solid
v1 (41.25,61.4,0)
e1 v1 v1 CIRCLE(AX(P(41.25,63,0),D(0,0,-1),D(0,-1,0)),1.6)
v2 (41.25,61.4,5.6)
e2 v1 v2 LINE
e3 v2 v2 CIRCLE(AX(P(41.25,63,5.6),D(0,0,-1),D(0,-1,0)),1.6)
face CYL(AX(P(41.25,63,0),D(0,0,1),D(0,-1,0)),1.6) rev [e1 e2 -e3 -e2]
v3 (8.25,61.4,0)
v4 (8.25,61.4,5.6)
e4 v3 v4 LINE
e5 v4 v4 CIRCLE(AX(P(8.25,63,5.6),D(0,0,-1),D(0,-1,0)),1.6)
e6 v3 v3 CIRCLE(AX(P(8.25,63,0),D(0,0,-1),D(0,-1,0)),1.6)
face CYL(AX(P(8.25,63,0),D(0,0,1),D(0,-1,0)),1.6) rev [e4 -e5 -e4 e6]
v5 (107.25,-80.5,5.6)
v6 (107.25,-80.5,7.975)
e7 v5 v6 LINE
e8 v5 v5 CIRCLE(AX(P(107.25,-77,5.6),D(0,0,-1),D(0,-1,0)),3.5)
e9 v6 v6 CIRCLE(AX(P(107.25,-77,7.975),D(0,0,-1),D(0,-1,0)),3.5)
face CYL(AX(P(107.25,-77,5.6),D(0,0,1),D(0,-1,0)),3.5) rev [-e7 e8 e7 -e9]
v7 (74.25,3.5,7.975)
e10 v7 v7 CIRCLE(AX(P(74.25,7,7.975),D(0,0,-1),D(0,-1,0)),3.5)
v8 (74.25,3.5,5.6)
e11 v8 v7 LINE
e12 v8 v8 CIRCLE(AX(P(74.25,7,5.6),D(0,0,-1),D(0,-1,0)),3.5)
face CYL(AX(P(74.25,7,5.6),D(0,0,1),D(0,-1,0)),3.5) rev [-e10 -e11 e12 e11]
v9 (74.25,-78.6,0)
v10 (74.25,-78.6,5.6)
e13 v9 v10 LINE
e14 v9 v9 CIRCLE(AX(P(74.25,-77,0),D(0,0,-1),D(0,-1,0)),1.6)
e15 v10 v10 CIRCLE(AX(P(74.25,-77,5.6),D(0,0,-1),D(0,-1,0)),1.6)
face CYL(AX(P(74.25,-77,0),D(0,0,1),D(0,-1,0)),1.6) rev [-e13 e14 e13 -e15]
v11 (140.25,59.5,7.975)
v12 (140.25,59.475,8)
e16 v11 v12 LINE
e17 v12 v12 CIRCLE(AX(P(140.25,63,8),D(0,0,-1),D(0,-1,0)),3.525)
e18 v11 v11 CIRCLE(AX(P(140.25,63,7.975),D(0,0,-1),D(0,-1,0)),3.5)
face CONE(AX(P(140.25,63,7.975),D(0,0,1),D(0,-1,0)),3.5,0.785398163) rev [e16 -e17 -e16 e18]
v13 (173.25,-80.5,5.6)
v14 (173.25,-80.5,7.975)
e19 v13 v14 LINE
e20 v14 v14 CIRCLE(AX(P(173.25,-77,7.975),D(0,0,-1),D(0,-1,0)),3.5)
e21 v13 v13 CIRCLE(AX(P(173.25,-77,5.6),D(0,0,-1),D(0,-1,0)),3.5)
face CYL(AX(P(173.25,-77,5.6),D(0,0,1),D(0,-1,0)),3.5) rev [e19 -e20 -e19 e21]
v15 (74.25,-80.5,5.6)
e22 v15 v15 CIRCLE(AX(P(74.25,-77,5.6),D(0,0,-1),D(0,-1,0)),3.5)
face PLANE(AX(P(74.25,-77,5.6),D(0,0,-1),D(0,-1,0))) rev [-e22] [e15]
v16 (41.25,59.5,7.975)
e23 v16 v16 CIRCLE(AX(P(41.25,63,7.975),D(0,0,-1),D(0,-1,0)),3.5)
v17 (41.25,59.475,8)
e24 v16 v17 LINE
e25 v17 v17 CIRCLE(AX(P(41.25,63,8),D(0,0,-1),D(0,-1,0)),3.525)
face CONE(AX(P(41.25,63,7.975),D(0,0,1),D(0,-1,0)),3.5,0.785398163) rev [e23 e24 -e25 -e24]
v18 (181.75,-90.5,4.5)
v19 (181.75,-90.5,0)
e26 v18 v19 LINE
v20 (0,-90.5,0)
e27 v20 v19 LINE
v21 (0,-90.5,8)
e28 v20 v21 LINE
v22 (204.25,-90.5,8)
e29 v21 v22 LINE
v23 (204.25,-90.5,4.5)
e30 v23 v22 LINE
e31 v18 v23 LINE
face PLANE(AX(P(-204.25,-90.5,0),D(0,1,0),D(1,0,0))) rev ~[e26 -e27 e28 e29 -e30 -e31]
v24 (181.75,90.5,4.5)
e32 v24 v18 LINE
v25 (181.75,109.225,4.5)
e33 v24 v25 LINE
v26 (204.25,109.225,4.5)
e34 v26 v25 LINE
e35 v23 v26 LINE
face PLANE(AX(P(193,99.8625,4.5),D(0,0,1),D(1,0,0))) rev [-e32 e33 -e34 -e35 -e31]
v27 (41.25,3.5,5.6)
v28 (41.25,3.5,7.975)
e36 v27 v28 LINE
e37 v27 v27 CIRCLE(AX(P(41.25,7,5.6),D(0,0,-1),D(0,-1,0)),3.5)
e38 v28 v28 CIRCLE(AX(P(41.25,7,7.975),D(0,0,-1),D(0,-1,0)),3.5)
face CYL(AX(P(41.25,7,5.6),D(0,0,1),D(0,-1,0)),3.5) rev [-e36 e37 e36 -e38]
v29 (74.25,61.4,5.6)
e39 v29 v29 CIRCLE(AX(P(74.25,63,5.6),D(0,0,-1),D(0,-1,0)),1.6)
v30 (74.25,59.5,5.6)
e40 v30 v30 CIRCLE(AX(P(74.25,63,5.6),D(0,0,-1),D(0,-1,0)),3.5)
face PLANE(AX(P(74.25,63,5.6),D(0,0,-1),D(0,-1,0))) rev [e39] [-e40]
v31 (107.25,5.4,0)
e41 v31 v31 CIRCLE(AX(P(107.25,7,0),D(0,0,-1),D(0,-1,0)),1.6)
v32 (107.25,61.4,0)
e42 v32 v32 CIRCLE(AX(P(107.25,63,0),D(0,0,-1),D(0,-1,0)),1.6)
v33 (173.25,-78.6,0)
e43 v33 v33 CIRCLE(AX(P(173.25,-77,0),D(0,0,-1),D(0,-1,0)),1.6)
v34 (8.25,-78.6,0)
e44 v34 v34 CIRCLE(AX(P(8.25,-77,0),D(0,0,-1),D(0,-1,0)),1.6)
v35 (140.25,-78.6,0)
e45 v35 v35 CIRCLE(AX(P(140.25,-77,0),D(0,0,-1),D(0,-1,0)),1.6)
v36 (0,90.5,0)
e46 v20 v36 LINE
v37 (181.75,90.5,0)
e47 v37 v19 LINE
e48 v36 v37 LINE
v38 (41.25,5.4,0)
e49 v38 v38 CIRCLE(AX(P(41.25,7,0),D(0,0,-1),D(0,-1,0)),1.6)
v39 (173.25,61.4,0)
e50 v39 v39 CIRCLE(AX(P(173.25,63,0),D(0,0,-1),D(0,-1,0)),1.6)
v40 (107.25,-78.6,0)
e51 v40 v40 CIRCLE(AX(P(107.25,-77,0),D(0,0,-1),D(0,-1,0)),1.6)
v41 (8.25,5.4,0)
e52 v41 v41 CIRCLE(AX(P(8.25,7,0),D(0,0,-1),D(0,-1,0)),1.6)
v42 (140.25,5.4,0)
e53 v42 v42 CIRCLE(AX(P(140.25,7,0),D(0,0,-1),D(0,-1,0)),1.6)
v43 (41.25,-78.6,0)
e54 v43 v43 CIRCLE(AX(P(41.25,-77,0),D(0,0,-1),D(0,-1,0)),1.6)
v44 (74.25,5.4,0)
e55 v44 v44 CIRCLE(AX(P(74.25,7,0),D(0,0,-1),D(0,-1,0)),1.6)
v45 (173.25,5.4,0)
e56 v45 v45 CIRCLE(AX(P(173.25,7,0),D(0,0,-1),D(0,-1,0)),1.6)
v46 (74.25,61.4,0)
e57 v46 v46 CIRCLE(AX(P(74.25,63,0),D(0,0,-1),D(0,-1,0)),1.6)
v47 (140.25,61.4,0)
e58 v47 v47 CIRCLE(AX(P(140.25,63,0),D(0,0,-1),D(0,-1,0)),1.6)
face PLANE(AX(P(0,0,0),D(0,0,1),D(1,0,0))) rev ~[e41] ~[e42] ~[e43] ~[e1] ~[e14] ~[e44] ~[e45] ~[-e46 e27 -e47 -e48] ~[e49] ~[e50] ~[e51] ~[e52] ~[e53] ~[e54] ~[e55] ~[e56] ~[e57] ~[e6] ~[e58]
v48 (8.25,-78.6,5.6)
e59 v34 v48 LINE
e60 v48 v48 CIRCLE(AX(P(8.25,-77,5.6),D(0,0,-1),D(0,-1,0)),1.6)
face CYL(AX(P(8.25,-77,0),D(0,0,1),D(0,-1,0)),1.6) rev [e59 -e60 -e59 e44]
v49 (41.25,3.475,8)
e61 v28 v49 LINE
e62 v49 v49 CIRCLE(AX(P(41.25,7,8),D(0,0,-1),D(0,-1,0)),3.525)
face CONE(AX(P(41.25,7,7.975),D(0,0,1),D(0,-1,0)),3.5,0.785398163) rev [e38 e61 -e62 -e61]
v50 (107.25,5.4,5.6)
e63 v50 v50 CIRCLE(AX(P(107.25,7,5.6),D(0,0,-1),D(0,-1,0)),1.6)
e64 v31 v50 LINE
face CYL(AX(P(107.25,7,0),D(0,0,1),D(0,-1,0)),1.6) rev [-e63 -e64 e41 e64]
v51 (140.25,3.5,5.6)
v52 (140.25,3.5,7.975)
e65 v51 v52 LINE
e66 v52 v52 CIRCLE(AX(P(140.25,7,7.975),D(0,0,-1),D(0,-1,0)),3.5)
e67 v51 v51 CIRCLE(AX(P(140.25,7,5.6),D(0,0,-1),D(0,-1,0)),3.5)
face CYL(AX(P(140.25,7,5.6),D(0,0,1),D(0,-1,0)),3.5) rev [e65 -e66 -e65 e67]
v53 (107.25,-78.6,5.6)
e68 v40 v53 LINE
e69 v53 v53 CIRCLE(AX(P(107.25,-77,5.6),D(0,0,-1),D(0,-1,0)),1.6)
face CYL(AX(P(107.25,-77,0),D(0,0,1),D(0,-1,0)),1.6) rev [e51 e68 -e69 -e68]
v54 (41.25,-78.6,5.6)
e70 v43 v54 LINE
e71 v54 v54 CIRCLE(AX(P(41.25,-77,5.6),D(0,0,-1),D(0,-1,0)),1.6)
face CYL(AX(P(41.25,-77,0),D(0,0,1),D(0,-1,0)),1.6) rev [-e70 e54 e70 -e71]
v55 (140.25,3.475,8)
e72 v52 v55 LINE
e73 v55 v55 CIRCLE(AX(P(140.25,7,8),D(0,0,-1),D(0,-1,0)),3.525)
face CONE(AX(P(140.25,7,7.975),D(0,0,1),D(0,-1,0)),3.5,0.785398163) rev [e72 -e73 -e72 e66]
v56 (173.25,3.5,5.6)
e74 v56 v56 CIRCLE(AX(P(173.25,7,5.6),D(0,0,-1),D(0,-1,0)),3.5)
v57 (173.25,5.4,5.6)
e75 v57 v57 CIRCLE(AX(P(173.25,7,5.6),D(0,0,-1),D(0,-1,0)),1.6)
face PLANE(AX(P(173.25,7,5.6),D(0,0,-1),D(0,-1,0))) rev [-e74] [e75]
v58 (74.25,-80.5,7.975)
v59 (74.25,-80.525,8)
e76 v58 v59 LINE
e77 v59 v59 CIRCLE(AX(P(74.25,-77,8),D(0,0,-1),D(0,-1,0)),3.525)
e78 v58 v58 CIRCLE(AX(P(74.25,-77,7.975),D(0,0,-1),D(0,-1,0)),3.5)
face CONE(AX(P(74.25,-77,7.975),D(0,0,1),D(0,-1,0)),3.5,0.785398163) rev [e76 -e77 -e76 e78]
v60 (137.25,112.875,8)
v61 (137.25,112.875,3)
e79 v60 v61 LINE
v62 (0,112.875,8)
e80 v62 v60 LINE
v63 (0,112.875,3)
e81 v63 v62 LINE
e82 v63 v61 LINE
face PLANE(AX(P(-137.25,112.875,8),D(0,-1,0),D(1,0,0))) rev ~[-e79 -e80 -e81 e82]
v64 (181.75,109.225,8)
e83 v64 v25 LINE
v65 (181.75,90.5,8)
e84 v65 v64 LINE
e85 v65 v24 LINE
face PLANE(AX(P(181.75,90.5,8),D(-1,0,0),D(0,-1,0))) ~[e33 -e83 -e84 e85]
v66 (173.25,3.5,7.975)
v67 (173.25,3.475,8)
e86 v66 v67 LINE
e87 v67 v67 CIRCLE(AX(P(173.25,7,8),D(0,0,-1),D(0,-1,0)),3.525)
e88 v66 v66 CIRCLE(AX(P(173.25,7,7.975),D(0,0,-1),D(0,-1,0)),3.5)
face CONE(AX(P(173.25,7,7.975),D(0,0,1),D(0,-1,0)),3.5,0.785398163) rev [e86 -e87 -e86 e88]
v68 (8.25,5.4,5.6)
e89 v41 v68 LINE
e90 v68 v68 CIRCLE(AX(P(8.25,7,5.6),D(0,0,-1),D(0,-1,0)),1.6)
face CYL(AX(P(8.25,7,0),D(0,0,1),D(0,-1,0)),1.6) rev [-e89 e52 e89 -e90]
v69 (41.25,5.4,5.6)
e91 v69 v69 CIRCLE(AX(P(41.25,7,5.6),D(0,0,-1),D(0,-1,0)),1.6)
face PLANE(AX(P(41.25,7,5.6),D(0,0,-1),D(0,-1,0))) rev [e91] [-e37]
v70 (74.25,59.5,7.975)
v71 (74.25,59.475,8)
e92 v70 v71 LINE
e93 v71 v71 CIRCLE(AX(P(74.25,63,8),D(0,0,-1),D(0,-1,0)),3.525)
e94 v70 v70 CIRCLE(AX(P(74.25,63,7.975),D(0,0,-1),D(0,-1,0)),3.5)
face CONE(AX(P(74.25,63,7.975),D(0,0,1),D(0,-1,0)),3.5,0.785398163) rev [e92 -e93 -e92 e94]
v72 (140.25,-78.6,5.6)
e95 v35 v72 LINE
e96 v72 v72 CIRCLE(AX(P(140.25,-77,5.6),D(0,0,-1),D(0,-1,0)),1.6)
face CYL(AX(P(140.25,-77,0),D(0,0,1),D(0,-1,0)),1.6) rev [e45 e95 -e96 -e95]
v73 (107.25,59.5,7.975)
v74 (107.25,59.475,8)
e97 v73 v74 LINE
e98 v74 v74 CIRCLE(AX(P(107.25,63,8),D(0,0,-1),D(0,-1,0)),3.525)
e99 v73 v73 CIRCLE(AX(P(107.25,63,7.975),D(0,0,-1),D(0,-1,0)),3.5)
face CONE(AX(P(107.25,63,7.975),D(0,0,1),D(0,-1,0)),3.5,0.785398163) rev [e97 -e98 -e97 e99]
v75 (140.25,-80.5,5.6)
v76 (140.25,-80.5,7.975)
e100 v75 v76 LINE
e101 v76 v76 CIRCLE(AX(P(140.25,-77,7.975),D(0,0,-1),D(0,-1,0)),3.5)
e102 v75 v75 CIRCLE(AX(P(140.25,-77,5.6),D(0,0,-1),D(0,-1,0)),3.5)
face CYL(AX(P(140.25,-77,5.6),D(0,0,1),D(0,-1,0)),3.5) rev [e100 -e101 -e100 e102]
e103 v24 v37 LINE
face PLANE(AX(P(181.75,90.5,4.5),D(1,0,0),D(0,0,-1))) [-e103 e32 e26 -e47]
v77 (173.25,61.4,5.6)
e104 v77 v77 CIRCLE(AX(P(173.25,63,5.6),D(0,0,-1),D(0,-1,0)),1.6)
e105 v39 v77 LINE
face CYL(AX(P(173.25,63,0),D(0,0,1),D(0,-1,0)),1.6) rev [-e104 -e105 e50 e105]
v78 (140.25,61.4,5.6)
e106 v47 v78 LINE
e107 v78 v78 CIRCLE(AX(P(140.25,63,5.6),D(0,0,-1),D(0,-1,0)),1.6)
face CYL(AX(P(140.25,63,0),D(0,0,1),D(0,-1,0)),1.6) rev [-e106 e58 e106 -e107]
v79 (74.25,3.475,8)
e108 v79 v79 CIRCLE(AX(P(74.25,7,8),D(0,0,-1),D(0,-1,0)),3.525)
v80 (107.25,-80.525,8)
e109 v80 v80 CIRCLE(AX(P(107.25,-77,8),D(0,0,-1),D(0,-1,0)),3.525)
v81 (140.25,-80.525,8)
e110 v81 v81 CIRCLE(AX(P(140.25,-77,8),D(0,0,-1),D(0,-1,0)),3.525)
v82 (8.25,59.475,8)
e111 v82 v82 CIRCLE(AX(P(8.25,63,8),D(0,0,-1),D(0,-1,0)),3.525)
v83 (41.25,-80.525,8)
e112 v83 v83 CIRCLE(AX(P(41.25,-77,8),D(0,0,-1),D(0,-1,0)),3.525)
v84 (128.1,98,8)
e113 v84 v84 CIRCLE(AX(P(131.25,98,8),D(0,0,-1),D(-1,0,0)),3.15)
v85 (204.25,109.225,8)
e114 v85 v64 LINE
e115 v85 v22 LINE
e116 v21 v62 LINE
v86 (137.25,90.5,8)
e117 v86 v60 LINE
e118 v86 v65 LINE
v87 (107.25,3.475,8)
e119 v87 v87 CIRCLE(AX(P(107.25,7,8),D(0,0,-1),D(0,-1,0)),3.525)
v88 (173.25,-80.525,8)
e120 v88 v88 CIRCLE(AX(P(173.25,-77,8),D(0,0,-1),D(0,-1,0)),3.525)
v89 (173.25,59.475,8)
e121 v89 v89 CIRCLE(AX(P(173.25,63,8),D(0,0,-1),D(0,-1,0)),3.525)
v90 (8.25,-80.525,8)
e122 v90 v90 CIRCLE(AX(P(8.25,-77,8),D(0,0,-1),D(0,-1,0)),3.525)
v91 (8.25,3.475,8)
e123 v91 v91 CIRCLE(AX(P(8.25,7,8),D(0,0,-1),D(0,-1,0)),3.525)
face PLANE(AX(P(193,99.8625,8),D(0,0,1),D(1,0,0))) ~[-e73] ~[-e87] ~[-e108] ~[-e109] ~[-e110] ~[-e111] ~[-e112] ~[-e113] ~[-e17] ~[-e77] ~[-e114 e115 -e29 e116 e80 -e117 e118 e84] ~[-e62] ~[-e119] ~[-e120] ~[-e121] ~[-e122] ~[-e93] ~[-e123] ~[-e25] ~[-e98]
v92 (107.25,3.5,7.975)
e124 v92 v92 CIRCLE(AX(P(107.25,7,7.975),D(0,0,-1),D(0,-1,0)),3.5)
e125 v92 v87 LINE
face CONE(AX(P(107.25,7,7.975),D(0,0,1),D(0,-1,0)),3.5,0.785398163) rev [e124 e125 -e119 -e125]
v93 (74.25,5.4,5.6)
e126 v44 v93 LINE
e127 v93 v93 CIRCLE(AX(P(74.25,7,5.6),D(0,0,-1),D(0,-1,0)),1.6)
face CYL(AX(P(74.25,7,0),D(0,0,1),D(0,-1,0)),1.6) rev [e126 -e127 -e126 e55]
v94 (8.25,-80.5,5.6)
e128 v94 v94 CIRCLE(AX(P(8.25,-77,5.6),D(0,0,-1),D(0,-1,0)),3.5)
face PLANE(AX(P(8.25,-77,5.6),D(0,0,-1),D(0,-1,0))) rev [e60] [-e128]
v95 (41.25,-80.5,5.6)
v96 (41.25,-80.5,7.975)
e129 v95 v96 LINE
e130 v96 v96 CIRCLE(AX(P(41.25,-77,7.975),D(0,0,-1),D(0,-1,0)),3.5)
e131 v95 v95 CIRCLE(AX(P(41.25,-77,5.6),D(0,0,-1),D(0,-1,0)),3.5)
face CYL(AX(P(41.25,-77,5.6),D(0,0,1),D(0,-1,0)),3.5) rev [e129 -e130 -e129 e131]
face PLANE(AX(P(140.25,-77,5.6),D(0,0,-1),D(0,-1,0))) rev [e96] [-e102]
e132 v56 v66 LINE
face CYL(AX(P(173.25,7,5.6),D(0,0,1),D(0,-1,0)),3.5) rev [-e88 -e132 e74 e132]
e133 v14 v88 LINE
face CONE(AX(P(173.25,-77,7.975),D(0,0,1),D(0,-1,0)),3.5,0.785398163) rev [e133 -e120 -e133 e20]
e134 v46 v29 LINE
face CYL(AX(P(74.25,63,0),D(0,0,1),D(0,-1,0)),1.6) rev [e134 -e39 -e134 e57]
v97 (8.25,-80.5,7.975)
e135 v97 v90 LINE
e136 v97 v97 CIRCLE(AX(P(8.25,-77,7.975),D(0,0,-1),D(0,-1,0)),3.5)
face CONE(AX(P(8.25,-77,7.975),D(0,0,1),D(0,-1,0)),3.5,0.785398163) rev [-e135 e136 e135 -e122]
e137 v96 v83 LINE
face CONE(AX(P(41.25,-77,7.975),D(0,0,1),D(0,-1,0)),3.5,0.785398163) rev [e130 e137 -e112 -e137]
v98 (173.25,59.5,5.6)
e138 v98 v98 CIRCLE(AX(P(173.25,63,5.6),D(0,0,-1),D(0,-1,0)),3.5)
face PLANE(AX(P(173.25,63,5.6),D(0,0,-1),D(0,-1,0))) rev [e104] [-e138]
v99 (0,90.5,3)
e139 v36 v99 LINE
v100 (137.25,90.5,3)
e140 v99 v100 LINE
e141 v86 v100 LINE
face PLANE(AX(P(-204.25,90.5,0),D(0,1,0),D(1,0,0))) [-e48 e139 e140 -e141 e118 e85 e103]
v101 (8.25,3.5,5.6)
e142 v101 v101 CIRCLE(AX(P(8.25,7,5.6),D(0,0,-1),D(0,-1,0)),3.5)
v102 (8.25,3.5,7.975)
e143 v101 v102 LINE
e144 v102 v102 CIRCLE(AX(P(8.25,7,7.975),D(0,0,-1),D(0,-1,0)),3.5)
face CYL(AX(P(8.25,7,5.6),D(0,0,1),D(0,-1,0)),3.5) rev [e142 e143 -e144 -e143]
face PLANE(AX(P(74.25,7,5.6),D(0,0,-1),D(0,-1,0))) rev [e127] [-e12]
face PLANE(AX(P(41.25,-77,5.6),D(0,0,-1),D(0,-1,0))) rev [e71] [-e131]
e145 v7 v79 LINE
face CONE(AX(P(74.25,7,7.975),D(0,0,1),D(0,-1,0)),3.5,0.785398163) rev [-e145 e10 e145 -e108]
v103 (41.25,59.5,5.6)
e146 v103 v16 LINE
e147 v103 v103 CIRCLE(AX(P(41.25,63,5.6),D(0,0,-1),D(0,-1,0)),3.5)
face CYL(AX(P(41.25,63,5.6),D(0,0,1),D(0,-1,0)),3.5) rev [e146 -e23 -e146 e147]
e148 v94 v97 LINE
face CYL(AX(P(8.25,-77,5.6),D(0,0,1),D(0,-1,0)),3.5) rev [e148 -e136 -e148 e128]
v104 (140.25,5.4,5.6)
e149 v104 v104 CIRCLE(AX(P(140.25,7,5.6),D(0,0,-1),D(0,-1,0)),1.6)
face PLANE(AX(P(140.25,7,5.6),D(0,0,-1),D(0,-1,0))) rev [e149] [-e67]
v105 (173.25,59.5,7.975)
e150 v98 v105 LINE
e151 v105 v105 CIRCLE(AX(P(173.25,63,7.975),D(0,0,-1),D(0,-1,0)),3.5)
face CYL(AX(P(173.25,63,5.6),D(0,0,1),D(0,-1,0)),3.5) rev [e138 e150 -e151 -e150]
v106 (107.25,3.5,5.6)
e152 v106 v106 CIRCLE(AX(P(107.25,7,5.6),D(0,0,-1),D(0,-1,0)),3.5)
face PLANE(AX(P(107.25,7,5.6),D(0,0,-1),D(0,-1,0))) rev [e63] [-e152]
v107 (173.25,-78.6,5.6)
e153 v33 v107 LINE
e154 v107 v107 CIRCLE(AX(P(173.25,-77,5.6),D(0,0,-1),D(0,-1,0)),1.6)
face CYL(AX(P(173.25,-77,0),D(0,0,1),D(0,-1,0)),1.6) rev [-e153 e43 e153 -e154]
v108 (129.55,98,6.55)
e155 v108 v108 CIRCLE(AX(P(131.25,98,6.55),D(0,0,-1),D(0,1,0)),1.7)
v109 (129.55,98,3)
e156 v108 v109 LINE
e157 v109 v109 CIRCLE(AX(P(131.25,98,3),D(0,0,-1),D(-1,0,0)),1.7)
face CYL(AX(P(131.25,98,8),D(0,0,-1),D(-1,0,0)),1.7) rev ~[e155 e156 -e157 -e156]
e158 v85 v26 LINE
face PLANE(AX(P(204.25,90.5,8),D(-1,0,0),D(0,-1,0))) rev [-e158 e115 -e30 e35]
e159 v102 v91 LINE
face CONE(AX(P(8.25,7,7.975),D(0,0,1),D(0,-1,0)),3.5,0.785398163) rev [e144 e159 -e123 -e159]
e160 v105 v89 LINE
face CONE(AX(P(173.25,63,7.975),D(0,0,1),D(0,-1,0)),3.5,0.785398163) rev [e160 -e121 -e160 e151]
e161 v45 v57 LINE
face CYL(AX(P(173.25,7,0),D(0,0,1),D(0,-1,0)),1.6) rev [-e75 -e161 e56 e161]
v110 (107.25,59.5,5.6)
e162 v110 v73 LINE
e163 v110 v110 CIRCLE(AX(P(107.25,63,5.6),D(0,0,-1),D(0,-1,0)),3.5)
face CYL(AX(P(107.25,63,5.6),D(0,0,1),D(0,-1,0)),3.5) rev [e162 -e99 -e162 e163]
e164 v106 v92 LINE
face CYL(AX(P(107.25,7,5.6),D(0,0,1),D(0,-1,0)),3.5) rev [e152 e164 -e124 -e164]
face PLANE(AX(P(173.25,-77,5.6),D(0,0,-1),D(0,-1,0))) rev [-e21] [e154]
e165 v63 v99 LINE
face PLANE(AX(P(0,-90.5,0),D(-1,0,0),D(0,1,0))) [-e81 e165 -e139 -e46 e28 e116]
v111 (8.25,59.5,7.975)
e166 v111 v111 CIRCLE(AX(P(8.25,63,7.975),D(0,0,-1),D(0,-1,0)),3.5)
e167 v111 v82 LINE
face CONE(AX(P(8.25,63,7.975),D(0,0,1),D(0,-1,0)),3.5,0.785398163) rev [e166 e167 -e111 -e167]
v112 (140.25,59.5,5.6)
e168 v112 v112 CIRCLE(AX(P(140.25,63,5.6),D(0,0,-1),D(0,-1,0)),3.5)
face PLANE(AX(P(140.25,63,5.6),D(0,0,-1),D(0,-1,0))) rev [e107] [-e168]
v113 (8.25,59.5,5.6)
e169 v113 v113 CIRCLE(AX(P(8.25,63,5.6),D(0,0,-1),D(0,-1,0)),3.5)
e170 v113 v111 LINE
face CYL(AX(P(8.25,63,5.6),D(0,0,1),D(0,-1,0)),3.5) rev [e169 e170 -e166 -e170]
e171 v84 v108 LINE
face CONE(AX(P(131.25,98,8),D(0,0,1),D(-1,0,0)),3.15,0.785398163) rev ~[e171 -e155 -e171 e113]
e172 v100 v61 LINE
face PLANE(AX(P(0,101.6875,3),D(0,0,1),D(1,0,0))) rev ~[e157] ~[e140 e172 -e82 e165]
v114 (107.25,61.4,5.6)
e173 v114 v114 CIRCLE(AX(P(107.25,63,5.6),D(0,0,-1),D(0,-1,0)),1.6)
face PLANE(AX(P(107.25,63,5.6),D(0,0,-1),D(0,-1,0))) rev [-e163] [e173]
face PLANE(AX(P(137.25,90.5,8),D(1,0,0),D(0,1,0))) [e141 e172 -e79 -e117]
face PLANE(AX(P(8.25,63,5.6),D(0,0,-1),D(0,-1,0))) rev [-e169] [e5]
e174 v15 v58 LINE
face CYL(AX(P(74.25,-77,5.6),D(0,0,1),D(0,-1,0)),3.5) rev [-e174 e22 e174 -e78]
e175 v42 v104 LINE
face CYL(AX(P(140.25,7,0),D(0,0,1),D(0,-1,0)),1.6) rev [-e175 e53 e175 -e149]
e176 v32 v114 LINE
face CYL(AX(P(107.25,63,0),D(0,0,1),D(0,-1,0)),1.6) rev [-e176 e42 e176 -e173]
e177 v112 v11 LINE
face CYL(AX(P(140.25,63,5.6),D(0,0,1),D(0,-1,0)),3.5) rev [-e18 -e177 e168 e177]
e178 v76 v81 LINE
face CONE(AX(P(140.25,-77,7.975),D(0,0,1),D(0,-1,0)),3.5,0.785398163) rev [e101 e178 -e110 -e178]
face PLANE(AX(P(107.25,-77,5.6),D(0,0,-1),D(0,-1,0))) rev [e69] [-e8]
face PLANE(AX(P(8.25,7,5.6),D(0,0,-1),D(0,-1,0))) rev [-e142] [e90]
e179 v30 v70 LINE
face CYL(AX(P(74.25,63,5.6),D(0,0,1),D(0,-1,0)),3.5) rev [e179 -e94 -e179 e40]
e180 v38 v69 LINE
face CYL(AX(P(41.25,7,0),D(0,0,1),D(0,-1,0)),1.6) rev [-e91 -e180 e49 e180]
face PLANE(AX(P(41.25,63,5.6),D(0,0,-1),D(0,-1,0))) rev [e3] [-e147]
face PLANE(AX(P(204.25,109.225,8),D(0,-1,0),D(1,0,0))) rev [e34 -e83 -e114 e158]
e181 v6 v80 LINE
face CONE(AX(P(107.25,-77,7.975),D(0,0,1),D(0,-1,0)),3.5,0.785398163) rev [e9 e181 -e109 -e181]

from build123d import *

# Parameters (mm, degrees)
ESQUISSE1_W                                    = 408.5
ESQUISSE1_H                                    = 181
BOSS_EXTRU_1_DEPTH                             = 8
CHAMBRAGE_POUR_VIS_T_TE_RONDE_BOMB_2_COUNT     = 2
CHAMBRAGE_POUR_VIS_T_TE_RONDE_BOMB_2_PITCH     = 56
CHAMBRAGE_POUR_VIS_T_TE_RONDE_BOMB_3_COUNT     = 2
CHAMBRAGE_POUR_VIS_T_TE_RONDE_BOMB_3_PITCH     = 140
R_P_TITION_LIN_AIRE1_COUNT                     = 11
R_P_TITION_LIN_AIRE1_PITCH                     = 33
ESQUISSE4_W                                    = 22.5
ESQUISSE4_H                                    = 4.5
ENL_V_MAT_EXTRU_1_DEPTH                        = 181
ESQUISSE5_W                                    = 22.5
ESQUISSE5_H                                    = 18.725
BOSS_EXTRU_2_DEPTH                             = 3.5
ESQUISSE7_W                                    = 274.5
ESQUISSE7_H                                    = 22.375
BOSS_EXTRU_3_DEPTH                             = 5
FRAISAGE_POUR_VIS_T_TE_FRAIS_E_M31_D           = 3.4
FRAISAGE_POUR_VIS_T_TE_FRAIS_E_M31_CSINK_D     = 6.3
FRAISAGE_POUR_VIS_T_TE_FRAIS_E_M31_CSINK_ANGLE = 90
ESQUISSE10_W                                   = 204.25
ESQUISSE10_H                                   = 203.375
ENL_V_MAT_EXTRU_2_DEPTH                        = 10


with BuildPart() as part:
    # Esquisse1 → Boss.-Extru.1 (new body)
    with BuildSketch(Plane.XY):
        Rectangle(ESQUISSE1_W, ESQUISSE1_H)
    extrude(amount=BOSS_EXTRU_1_DEPTH)

    # Esquisse3 → Chambrage pour vis à tête ronde bombée M31 (revolve, cut)
    with BuildSketch(Plane(origin=(-156.75, 63, 8), x_dir=(0, -1, 0), z_dir=(1, 0, 0))):
        Polygon((0, 0), (0, 8), (1.6, 8), (1.6, 2.4), (3.5, 2.4), (3.5, 0.025), (3.525, 0), align=None)
    chambrage_pour_vis_t_te_ronde_bomb_e_m = revolve(axis=Axis((-156.75, 63, 14.35), (0, 0, -1)), mode=Mode.SUBTRACT)

    # Chambrage pour vis _ t_te ronde bomb 2: Chambrage pour vis à tête ronde bombée M31 ×2
    with Locations(*[(0, -i * CHAMBRAGE_POUR_VIS_T_TE_RONDE_BOMB_2_PITCH, 0) for i in range(1, CHAMBRAGE_POUR_VIS_T_TE_RONDE_BOMB_2_COUNT)]):
        add(chambrage_pour_vis_t_te_ronde_bomb_e_m, mode=Mode.SUBTRACT)

    # Chambrage pour vis _ t_te ronde bomb 3: Chambrage pour vis à tête ronde bombée M31 ×2
    with Locations(*[(0, -i * CHAMBRAGE_POUR_VIS_T_TE_RONDE_BOMB_3_PITCH, 0) for i in range(1, CHAMBRAGE_POUR_VIS_T_TE_RONDE_BOMB_3_COUNT)]):
        add(chambrage_pour_vis_t_te_ronde_bomb_e_m, mode=Mode.SUBTRACT)

    # Répétition linéaire1: Chambrage pour vis à tête ronde bombée M31 ×11
    with Locations(*[(i * R_P_TITION_LIN_AIRE1_PITCH, 0, 0) for i in range(1, R_P_TITION_LIN_AIRE1_COUNT)]):
        add(chambrage_pour_vis_t_te_ronde_bomb_e_m, mode=Mode.SUBTRACT)

    # Répétition linéaire1 copy 1 sketch → Répétition linéaire1 copy 1 (revolve, cut)
    with BuildSketch(Plane(origin=(-123.75, 7, 8), x_dir=(0, -1, 0), z_dir=(1, 0, 0))):
        Polygon((0, 0), (0, 8), (1.6, 8), (1.6, 2.4), (3.5, 2.4), (3.5, 0.025), (3.525, 0), align=None)
    revolve(axis=Axis((-123.75, 7, 14.35), (0, 0, -1)), mode=Mode.SUBTRACT)

    # Répétition linéaire1 copy 2 sketch → Répétition linéaire1 copy 2 (revolve, cut)
    with BuildSketch(Plane(origin=(-90.75, 7, 8), x_dir=(0, -1, 0), z_dir=(1, 0, 0))):
        Polygon((0, 0), (0, 8), (1.6, 8), (1.6, 2.4), (3.5, 2.4), (3.5, 0.025), (3.525, 0), align=None)
    revolve(axis=Axis((-90.75, 7, 14.35), (0, 0, -1)), mode=Mode.SUBTRACT)

    # Répétition linéaire1 copy 3 sketch → Répétition linéaire1 copy 3 (revolve, cut)
    with BuildSketch(Plane(origin=(-57.75, 7, 8), x_dir=(0, -1, 0), z_dir=(1, 0, 0))):
        Polygon((0, 0), (0, 8), (1.6, 8), (1.6, 2.4), (3.5, 2.4), (3.5, 0.025), (3.525, 0), align=None)
    revolve(axis=Axis((-57.75, 7, 14.35), (0, 0, -1)), mode=Mode.SUBTRACT)

    # Répétition linéaire1 copy 4 sketch → Répétition linéaire1 copy 4 (revolve, cut)
    with BuildSketch(Plane(origin=(-24.75, 7, 8), x_dir=(0, -1, 0), z_dir=(1, 0, 0))):
        Polygon((0, 0), (0, 8), (1.6, 8), (1.6, 2.4), (3.5, 2.4), (3.5, 0.025), (3.525, 0), align=None)
    revolve(axis=Axis((-24.75, 7, 14.35), (0, 0, -1)), mode=Mode.SUBTRACT)

    # Répétition linéaire1 copy 5 sketch → Répétition linéaire1 copy 5 (revolve, cut)
    with BuildSketch(Plane(origin=(8.25, 7, 8), x_dir=(0, -1, 0), z_dir=(1, 0, 0))):
        Polygon((0, 0), (0, 8), (1.6, 8), (1.6, 2.4), (3.5, 2.4), (3.5, 0.025), (3.525, 0), align=None)
    revolve(axis=Axis((8.25, 7, 14.35), (0, 0, -1)), mode=Mode.SUBTRACT)

    # Répétition linéaire1 copy 6 sketch → Répétition linéaire1 copy 6 (revolve, cut)
    with BuildSketch(Plane(origin=(41.25, 7, 8), x_dir=(0, -1, 0), z_dir=(1, 0, 0))):
        Polygon((0, 0), (0, 8), (1.6, 8), (1.6, 2.4), (3.5, 2.4), (3.5, 0.025), (3.525, 0), align=None)
    revolve(axis=Axis((41.25, 7, 14.35), (0, 0, -1)), mode=Mode.SUBTRACT)

    # Répétition linéaire1 copy 7 sketch → Répétition linéaire1 copy 7 (revolve, cut)
    with BuildSketch(Plane(origin=(74.25, 7, 8), x_dir=(0, -1, 0), z_dir=(1, 0, 0))):
        Polygon((0, 0), (0, 8), (1.6, 8), (1.6, 2.4), (3.5, 2.4), (3.5, 0.025), (3.525, 0), align=None)
    revolve(axis=Axis((74.25, 7, 14.35), (0, 0, -1)), mode=Mode.SUBTRACT)

    # Répétition linéaire1 copy 8 sketch → Répétition linéaire1 copy 8 (revolve, cut)
    with BuildSketch(Plane(origin=(107.25, 7, 8), x_dir=(0, -1, 0), z_dir=(1, 0, 0))):
        Polygon((0, 0), (0, 8), (1.6, 8), (1.6, 2.4), (3.5, 2.4), (3.5, 0.025), (3.525, 0), align=None)
    revolve(axis=Axis((107.25, 7, 14.35), (0, 0, -1)), mode=Mode.SUBTRACT)

    # Répétition linéaire1 copy 9 sketch → Répétition linéaire1 copy 9 (revolve, cut)
    with BuildSketch(Plane(origin=(140.25, 7, 8), x_dir=(0, -1, 0), z_dir=(1, 0, 0))):
        Polygon((0, 0), (0, 8), (1.6, 8), (1.6, 2.4), (3.5, 2.4), (3.5, 0.025), (3.525, 0), align=None)
    revolve(axis=Axis((140.25, 7, 14.35), (0, 0, -1)), mode=Mode.SUBTRACT)

    # Répétition linéaire1 copy 10 sketch → Répétition linéaire1 copy 10 (revolve, cut)
    with BuildSketch(Plane(origin=(173.25, 7, 8), x_dir=(0, -1, 0), z_dir=(1, 0, 0))):
        Polygon((0, 0), (0, 8), (1.6, 8), (1.6, 2.4), (3.5, 2.4), (3.5, 0.025), (3.525, 0), align=None)
    revolve(axis=Axis((173.25, 7, 14.35), (0, 0, -1)), mode=Mode.SUBTRACT)

    # Répétition linéaire1 copy 11 sketch → Répétition linéaire1 copy 11 (revolve, cut)
    with BuildSketch(Plane(origin=(-123.75, -77, 8), x_dir=(0, -1, 0), z_dir=(1, 0, 0))):
        Polygon((0, 0), (0, 8), (1.6, 8), (1.6, 2.4), (3.5, 2.4), (3.5, 0.025), (3.525, 0), align=None)
    revolve(axis=Axis((-123.75, -77, 14.35), (0, 0, -1)), mode=Mode.SUBTRACT)

    # Répétition linéaire1 copy 12 sketch → Répétition linéaire1 copy 12 (revolve, cut)
    with BuildSketch(Plane(origin=(-90.75, -77, 8), x_dir=(0, -1, 0), z_dir=(1, 0, 0))):
        Polygon((0, 0), (0, 8), (1.6, 8), (1.6, 2.4), (3.5, 2.4), (3.5, 0.025), (3.525, 0), align=None)
    revolve(axis=Axis((-90.75, -77, 14.35), (0, 0, -1)), mode=Mode.SUBTRACT)

    # Répétition linéaire1 copy 13 sketch → Répétition linéaire1 copy 13 (revolve, cut)
    with BuildSketch(Plane(origin=(-57.75, -77, 8), x_dir=(0, -1, 0), z_dir=(1, 0, 0))):
        Polygon((0, 0), (0, 8), (1.6, 8), (1.6, 2.4), (3.5, 2.4), (3.5, 0.025), (3.525, 0), align=None)
    revolve(axis=Axis((-57.75, -77, 14.35), (0, 0, -1)), mode=Mode.SUBTRACT)

    # Répétition linéaire1 copy 14 sketch → Répétition linéaire1 copy 14 (revolve, cut)
    with BuildSketch(Plane(origin=(-24.75, -77, 8), x_dir=(0, -1, 0), z_dir=(1, 0, 0))):
        Polygon((0, 0), (0, 8), (1.6, 8), (1.6, 2.4), (3.5, 2.4), (3.5, 0.025), (3.525, 0), align=None)
    revolve(axis=Axis((-24.75, -77, 14.35), (0, 0, -1)), mode=Mode.SUBTRACT)

    # Répétition linéaire1 copy 15 sketch → Répétition linéaire1 copy 15 (revolve, cut)
    with BuildSketch(Plane(origin=(8.25, -77, 8), x_dir=(0, -1, 0), z_dir=(1, 0, 0))):
        Polygon((0, 0), (0, 8), (1.6, 8), (1.6, 2.4), (3.5, 2.4), (3.5, 0.025), (3.525, 0), align=None)
    revolve(axis=Axis((8.25, -77, 14.35), (0, 0, -1)), mode=Mode.SUBTRACT)

    # Répétition linéaire1 copy 16 sketch → Répétition linéaire1 copy 16 (revolve, cut)
    with BuildSketch(Plane(origin=(41.25, -77, 8), x_dir=(0, -1, 0), z_dir=(1, 0, 0))):
        Polygon((0, 0), (0, 8), (1.6, 8), (1.6, 2.4), (3.5, 2.4), (3.5, 0.025), (3.525, 0), align=None)
    revolve(axis=Axis((41.25, -77, 14.35), (0, 0, -1)), mode=Mode.SUBTRACT)

    # Répétition linéaire1 copy 17 sketch → Répétition linéaire1 copy 17 (revolve, cut)
    with BuildSketch(Plane(origin=(74.25, -77, 8), x_dir=(0, -1, 0), z_dir=(1, 0, 0))):
        Polygon((0, 0), (0, 8), (1.6, 8), (1.6, 2.4), (3.5, 2.4), (3.5, 0.025), (3.525, 0), align=None)
    revolve(axis=Axis((74.25, -77, 14.35), (0, 0, -1)), mode=Mode.SUBTRACT)

    # Répétition linéaire1 copy 18 sketch → Répétition linéaire1 copy 18 (revolve, cut)
    with BuildSketch(Plane(origin=(107.25, -77, 8), x_dir=(0, -1, 0), z_dir=(1, 0, 0))):
        Polygon((0, 0), (0, 8), (1.6, 8), (1.6, 2.4), (3.5, 2.4), (3.5, 0.025), (3.525, 0), align=None)
    revolve(axis=Axis((107.25, -77, 14.35), (0, 0, -1)), mode=Mode.SUBTRACT)

    # Répétition linéaire1 copy 19 sketch → Répétition linéaire1 copy 19 (revolve, cut)
    with BuildSketch(Plane(origin=(140.25, -77, 8), x_dir=(0, -1, 0), z_dir=(1, 0, 0))):
        Polygon((0, 0), (0, 8), (1.6, 8), (1.6, 2.4), (3.5, 2.4), (3.5, 0.025), (3.525, 0), align=None)
    revolve(axis=Axis((140.25, -77, 14.35), (0, 0, -1)), mode=Mode.SUBTRACT)

    # Répétition linéaire1 copy 20 sketch → Répétition linéaire1 copy 20 (revolve, cut)
    with BuildSketch(Plane(origin=(173.25, -77, 8), x_dir=(0, -1, 0), z_dir=(1, 0, 0))):
        Polygon((0, 0), (0, 8), (1.6, 8), (1.6, 2.4), (3.5, 2.4), (3.5, 0.025), (3.525, 0), align=None)
    revolve(axis=Axis((173.25, -77, 14.35), (0, 0, -1)), mode=Mode.SUBTRACT)

    # Esquisse4 → Enlèv. mat.-Extru.1 (cut)
    with BuildSketch(Plane(origin=(0, 90.5, 0), x_dir=(1, 0, 0), z_dir=(0, 1, 0))):
        with Locations((-193, -2.25)):
            Rectangle(ESQUISSE4_W, ESQUISSE4_H)
        with Locations((193, -2.25)):
            Rectangle(ESQUISSE4_W, ESQUISSE4_H)
    extrude(amount=-ENL_V_MAT_EXTRU_1_DEPTH, mode=Mode.SUBTRACT)

    # Esquisse5 → Boss.-Extru.2 (add)
    with BuildSketch(Plane.XY.offset(8)):
        with Locations((-193, 99.8625)):
            Rectangle(ESQUISSE5_W, ESQUISSE5_H)
    boss_extru_2 = extrude(amount=-BOSS_EXTRU_2_DEPTH)

    # Symétrie1: Boss.-Extru.2 across plane
    add(boss_extru_2.mirror(Plane(origin=(0, 0, 0), x_dir=(0, 0, 1), z_dir=(1, 0, 0))))

    # Esquisse7 → Boss.-Extru.3 (add)
    with BuildSketch(Plane.XY.offset(8)):
        with Locations((0, 101.6875)):
            Rectangle(ESQUISSE7_W, ESQUISSE7_H)
    extrude(amount=-BOSS_EXTRU_3_DEPTH)

    # Fraisage pour vis à tête fraisée M31 (through all)
    with Locations(Plane.XY.offset(8)):
        with Locations((-131.25, 98), (131.25, 98)):
            CounterSinkHole(FRAISAGE_POUR_VIS_T_TE_FRAIS_E_M31_D / 2, FRAISAGE_POUR_VIS_T_TE_FRAIS_E_M31_CSINK_D / 2, counter_sink_angle=FRAISAGE_POUR_VIS_T_TE_FRAIS_E_M31_CSINK_ANGLE)

    # Esquisse10 → Enlèv. mat.-Extru.2 (cut)
    with BuildSketch(Plane(origin=(0, 0, 0), x_dir=(-1, 0, 0), z_dir=(0, 0, -1))):
        with Locations((102.125, 11.1875)):
            Rectangle(ESQUISSE10_W, ESQUISSE10_H)
    extrude(amount=-ENL_V_MAT_EXTRU_2_DEPTH, mode=Mode.SUBTRACT)


solid = part.part
